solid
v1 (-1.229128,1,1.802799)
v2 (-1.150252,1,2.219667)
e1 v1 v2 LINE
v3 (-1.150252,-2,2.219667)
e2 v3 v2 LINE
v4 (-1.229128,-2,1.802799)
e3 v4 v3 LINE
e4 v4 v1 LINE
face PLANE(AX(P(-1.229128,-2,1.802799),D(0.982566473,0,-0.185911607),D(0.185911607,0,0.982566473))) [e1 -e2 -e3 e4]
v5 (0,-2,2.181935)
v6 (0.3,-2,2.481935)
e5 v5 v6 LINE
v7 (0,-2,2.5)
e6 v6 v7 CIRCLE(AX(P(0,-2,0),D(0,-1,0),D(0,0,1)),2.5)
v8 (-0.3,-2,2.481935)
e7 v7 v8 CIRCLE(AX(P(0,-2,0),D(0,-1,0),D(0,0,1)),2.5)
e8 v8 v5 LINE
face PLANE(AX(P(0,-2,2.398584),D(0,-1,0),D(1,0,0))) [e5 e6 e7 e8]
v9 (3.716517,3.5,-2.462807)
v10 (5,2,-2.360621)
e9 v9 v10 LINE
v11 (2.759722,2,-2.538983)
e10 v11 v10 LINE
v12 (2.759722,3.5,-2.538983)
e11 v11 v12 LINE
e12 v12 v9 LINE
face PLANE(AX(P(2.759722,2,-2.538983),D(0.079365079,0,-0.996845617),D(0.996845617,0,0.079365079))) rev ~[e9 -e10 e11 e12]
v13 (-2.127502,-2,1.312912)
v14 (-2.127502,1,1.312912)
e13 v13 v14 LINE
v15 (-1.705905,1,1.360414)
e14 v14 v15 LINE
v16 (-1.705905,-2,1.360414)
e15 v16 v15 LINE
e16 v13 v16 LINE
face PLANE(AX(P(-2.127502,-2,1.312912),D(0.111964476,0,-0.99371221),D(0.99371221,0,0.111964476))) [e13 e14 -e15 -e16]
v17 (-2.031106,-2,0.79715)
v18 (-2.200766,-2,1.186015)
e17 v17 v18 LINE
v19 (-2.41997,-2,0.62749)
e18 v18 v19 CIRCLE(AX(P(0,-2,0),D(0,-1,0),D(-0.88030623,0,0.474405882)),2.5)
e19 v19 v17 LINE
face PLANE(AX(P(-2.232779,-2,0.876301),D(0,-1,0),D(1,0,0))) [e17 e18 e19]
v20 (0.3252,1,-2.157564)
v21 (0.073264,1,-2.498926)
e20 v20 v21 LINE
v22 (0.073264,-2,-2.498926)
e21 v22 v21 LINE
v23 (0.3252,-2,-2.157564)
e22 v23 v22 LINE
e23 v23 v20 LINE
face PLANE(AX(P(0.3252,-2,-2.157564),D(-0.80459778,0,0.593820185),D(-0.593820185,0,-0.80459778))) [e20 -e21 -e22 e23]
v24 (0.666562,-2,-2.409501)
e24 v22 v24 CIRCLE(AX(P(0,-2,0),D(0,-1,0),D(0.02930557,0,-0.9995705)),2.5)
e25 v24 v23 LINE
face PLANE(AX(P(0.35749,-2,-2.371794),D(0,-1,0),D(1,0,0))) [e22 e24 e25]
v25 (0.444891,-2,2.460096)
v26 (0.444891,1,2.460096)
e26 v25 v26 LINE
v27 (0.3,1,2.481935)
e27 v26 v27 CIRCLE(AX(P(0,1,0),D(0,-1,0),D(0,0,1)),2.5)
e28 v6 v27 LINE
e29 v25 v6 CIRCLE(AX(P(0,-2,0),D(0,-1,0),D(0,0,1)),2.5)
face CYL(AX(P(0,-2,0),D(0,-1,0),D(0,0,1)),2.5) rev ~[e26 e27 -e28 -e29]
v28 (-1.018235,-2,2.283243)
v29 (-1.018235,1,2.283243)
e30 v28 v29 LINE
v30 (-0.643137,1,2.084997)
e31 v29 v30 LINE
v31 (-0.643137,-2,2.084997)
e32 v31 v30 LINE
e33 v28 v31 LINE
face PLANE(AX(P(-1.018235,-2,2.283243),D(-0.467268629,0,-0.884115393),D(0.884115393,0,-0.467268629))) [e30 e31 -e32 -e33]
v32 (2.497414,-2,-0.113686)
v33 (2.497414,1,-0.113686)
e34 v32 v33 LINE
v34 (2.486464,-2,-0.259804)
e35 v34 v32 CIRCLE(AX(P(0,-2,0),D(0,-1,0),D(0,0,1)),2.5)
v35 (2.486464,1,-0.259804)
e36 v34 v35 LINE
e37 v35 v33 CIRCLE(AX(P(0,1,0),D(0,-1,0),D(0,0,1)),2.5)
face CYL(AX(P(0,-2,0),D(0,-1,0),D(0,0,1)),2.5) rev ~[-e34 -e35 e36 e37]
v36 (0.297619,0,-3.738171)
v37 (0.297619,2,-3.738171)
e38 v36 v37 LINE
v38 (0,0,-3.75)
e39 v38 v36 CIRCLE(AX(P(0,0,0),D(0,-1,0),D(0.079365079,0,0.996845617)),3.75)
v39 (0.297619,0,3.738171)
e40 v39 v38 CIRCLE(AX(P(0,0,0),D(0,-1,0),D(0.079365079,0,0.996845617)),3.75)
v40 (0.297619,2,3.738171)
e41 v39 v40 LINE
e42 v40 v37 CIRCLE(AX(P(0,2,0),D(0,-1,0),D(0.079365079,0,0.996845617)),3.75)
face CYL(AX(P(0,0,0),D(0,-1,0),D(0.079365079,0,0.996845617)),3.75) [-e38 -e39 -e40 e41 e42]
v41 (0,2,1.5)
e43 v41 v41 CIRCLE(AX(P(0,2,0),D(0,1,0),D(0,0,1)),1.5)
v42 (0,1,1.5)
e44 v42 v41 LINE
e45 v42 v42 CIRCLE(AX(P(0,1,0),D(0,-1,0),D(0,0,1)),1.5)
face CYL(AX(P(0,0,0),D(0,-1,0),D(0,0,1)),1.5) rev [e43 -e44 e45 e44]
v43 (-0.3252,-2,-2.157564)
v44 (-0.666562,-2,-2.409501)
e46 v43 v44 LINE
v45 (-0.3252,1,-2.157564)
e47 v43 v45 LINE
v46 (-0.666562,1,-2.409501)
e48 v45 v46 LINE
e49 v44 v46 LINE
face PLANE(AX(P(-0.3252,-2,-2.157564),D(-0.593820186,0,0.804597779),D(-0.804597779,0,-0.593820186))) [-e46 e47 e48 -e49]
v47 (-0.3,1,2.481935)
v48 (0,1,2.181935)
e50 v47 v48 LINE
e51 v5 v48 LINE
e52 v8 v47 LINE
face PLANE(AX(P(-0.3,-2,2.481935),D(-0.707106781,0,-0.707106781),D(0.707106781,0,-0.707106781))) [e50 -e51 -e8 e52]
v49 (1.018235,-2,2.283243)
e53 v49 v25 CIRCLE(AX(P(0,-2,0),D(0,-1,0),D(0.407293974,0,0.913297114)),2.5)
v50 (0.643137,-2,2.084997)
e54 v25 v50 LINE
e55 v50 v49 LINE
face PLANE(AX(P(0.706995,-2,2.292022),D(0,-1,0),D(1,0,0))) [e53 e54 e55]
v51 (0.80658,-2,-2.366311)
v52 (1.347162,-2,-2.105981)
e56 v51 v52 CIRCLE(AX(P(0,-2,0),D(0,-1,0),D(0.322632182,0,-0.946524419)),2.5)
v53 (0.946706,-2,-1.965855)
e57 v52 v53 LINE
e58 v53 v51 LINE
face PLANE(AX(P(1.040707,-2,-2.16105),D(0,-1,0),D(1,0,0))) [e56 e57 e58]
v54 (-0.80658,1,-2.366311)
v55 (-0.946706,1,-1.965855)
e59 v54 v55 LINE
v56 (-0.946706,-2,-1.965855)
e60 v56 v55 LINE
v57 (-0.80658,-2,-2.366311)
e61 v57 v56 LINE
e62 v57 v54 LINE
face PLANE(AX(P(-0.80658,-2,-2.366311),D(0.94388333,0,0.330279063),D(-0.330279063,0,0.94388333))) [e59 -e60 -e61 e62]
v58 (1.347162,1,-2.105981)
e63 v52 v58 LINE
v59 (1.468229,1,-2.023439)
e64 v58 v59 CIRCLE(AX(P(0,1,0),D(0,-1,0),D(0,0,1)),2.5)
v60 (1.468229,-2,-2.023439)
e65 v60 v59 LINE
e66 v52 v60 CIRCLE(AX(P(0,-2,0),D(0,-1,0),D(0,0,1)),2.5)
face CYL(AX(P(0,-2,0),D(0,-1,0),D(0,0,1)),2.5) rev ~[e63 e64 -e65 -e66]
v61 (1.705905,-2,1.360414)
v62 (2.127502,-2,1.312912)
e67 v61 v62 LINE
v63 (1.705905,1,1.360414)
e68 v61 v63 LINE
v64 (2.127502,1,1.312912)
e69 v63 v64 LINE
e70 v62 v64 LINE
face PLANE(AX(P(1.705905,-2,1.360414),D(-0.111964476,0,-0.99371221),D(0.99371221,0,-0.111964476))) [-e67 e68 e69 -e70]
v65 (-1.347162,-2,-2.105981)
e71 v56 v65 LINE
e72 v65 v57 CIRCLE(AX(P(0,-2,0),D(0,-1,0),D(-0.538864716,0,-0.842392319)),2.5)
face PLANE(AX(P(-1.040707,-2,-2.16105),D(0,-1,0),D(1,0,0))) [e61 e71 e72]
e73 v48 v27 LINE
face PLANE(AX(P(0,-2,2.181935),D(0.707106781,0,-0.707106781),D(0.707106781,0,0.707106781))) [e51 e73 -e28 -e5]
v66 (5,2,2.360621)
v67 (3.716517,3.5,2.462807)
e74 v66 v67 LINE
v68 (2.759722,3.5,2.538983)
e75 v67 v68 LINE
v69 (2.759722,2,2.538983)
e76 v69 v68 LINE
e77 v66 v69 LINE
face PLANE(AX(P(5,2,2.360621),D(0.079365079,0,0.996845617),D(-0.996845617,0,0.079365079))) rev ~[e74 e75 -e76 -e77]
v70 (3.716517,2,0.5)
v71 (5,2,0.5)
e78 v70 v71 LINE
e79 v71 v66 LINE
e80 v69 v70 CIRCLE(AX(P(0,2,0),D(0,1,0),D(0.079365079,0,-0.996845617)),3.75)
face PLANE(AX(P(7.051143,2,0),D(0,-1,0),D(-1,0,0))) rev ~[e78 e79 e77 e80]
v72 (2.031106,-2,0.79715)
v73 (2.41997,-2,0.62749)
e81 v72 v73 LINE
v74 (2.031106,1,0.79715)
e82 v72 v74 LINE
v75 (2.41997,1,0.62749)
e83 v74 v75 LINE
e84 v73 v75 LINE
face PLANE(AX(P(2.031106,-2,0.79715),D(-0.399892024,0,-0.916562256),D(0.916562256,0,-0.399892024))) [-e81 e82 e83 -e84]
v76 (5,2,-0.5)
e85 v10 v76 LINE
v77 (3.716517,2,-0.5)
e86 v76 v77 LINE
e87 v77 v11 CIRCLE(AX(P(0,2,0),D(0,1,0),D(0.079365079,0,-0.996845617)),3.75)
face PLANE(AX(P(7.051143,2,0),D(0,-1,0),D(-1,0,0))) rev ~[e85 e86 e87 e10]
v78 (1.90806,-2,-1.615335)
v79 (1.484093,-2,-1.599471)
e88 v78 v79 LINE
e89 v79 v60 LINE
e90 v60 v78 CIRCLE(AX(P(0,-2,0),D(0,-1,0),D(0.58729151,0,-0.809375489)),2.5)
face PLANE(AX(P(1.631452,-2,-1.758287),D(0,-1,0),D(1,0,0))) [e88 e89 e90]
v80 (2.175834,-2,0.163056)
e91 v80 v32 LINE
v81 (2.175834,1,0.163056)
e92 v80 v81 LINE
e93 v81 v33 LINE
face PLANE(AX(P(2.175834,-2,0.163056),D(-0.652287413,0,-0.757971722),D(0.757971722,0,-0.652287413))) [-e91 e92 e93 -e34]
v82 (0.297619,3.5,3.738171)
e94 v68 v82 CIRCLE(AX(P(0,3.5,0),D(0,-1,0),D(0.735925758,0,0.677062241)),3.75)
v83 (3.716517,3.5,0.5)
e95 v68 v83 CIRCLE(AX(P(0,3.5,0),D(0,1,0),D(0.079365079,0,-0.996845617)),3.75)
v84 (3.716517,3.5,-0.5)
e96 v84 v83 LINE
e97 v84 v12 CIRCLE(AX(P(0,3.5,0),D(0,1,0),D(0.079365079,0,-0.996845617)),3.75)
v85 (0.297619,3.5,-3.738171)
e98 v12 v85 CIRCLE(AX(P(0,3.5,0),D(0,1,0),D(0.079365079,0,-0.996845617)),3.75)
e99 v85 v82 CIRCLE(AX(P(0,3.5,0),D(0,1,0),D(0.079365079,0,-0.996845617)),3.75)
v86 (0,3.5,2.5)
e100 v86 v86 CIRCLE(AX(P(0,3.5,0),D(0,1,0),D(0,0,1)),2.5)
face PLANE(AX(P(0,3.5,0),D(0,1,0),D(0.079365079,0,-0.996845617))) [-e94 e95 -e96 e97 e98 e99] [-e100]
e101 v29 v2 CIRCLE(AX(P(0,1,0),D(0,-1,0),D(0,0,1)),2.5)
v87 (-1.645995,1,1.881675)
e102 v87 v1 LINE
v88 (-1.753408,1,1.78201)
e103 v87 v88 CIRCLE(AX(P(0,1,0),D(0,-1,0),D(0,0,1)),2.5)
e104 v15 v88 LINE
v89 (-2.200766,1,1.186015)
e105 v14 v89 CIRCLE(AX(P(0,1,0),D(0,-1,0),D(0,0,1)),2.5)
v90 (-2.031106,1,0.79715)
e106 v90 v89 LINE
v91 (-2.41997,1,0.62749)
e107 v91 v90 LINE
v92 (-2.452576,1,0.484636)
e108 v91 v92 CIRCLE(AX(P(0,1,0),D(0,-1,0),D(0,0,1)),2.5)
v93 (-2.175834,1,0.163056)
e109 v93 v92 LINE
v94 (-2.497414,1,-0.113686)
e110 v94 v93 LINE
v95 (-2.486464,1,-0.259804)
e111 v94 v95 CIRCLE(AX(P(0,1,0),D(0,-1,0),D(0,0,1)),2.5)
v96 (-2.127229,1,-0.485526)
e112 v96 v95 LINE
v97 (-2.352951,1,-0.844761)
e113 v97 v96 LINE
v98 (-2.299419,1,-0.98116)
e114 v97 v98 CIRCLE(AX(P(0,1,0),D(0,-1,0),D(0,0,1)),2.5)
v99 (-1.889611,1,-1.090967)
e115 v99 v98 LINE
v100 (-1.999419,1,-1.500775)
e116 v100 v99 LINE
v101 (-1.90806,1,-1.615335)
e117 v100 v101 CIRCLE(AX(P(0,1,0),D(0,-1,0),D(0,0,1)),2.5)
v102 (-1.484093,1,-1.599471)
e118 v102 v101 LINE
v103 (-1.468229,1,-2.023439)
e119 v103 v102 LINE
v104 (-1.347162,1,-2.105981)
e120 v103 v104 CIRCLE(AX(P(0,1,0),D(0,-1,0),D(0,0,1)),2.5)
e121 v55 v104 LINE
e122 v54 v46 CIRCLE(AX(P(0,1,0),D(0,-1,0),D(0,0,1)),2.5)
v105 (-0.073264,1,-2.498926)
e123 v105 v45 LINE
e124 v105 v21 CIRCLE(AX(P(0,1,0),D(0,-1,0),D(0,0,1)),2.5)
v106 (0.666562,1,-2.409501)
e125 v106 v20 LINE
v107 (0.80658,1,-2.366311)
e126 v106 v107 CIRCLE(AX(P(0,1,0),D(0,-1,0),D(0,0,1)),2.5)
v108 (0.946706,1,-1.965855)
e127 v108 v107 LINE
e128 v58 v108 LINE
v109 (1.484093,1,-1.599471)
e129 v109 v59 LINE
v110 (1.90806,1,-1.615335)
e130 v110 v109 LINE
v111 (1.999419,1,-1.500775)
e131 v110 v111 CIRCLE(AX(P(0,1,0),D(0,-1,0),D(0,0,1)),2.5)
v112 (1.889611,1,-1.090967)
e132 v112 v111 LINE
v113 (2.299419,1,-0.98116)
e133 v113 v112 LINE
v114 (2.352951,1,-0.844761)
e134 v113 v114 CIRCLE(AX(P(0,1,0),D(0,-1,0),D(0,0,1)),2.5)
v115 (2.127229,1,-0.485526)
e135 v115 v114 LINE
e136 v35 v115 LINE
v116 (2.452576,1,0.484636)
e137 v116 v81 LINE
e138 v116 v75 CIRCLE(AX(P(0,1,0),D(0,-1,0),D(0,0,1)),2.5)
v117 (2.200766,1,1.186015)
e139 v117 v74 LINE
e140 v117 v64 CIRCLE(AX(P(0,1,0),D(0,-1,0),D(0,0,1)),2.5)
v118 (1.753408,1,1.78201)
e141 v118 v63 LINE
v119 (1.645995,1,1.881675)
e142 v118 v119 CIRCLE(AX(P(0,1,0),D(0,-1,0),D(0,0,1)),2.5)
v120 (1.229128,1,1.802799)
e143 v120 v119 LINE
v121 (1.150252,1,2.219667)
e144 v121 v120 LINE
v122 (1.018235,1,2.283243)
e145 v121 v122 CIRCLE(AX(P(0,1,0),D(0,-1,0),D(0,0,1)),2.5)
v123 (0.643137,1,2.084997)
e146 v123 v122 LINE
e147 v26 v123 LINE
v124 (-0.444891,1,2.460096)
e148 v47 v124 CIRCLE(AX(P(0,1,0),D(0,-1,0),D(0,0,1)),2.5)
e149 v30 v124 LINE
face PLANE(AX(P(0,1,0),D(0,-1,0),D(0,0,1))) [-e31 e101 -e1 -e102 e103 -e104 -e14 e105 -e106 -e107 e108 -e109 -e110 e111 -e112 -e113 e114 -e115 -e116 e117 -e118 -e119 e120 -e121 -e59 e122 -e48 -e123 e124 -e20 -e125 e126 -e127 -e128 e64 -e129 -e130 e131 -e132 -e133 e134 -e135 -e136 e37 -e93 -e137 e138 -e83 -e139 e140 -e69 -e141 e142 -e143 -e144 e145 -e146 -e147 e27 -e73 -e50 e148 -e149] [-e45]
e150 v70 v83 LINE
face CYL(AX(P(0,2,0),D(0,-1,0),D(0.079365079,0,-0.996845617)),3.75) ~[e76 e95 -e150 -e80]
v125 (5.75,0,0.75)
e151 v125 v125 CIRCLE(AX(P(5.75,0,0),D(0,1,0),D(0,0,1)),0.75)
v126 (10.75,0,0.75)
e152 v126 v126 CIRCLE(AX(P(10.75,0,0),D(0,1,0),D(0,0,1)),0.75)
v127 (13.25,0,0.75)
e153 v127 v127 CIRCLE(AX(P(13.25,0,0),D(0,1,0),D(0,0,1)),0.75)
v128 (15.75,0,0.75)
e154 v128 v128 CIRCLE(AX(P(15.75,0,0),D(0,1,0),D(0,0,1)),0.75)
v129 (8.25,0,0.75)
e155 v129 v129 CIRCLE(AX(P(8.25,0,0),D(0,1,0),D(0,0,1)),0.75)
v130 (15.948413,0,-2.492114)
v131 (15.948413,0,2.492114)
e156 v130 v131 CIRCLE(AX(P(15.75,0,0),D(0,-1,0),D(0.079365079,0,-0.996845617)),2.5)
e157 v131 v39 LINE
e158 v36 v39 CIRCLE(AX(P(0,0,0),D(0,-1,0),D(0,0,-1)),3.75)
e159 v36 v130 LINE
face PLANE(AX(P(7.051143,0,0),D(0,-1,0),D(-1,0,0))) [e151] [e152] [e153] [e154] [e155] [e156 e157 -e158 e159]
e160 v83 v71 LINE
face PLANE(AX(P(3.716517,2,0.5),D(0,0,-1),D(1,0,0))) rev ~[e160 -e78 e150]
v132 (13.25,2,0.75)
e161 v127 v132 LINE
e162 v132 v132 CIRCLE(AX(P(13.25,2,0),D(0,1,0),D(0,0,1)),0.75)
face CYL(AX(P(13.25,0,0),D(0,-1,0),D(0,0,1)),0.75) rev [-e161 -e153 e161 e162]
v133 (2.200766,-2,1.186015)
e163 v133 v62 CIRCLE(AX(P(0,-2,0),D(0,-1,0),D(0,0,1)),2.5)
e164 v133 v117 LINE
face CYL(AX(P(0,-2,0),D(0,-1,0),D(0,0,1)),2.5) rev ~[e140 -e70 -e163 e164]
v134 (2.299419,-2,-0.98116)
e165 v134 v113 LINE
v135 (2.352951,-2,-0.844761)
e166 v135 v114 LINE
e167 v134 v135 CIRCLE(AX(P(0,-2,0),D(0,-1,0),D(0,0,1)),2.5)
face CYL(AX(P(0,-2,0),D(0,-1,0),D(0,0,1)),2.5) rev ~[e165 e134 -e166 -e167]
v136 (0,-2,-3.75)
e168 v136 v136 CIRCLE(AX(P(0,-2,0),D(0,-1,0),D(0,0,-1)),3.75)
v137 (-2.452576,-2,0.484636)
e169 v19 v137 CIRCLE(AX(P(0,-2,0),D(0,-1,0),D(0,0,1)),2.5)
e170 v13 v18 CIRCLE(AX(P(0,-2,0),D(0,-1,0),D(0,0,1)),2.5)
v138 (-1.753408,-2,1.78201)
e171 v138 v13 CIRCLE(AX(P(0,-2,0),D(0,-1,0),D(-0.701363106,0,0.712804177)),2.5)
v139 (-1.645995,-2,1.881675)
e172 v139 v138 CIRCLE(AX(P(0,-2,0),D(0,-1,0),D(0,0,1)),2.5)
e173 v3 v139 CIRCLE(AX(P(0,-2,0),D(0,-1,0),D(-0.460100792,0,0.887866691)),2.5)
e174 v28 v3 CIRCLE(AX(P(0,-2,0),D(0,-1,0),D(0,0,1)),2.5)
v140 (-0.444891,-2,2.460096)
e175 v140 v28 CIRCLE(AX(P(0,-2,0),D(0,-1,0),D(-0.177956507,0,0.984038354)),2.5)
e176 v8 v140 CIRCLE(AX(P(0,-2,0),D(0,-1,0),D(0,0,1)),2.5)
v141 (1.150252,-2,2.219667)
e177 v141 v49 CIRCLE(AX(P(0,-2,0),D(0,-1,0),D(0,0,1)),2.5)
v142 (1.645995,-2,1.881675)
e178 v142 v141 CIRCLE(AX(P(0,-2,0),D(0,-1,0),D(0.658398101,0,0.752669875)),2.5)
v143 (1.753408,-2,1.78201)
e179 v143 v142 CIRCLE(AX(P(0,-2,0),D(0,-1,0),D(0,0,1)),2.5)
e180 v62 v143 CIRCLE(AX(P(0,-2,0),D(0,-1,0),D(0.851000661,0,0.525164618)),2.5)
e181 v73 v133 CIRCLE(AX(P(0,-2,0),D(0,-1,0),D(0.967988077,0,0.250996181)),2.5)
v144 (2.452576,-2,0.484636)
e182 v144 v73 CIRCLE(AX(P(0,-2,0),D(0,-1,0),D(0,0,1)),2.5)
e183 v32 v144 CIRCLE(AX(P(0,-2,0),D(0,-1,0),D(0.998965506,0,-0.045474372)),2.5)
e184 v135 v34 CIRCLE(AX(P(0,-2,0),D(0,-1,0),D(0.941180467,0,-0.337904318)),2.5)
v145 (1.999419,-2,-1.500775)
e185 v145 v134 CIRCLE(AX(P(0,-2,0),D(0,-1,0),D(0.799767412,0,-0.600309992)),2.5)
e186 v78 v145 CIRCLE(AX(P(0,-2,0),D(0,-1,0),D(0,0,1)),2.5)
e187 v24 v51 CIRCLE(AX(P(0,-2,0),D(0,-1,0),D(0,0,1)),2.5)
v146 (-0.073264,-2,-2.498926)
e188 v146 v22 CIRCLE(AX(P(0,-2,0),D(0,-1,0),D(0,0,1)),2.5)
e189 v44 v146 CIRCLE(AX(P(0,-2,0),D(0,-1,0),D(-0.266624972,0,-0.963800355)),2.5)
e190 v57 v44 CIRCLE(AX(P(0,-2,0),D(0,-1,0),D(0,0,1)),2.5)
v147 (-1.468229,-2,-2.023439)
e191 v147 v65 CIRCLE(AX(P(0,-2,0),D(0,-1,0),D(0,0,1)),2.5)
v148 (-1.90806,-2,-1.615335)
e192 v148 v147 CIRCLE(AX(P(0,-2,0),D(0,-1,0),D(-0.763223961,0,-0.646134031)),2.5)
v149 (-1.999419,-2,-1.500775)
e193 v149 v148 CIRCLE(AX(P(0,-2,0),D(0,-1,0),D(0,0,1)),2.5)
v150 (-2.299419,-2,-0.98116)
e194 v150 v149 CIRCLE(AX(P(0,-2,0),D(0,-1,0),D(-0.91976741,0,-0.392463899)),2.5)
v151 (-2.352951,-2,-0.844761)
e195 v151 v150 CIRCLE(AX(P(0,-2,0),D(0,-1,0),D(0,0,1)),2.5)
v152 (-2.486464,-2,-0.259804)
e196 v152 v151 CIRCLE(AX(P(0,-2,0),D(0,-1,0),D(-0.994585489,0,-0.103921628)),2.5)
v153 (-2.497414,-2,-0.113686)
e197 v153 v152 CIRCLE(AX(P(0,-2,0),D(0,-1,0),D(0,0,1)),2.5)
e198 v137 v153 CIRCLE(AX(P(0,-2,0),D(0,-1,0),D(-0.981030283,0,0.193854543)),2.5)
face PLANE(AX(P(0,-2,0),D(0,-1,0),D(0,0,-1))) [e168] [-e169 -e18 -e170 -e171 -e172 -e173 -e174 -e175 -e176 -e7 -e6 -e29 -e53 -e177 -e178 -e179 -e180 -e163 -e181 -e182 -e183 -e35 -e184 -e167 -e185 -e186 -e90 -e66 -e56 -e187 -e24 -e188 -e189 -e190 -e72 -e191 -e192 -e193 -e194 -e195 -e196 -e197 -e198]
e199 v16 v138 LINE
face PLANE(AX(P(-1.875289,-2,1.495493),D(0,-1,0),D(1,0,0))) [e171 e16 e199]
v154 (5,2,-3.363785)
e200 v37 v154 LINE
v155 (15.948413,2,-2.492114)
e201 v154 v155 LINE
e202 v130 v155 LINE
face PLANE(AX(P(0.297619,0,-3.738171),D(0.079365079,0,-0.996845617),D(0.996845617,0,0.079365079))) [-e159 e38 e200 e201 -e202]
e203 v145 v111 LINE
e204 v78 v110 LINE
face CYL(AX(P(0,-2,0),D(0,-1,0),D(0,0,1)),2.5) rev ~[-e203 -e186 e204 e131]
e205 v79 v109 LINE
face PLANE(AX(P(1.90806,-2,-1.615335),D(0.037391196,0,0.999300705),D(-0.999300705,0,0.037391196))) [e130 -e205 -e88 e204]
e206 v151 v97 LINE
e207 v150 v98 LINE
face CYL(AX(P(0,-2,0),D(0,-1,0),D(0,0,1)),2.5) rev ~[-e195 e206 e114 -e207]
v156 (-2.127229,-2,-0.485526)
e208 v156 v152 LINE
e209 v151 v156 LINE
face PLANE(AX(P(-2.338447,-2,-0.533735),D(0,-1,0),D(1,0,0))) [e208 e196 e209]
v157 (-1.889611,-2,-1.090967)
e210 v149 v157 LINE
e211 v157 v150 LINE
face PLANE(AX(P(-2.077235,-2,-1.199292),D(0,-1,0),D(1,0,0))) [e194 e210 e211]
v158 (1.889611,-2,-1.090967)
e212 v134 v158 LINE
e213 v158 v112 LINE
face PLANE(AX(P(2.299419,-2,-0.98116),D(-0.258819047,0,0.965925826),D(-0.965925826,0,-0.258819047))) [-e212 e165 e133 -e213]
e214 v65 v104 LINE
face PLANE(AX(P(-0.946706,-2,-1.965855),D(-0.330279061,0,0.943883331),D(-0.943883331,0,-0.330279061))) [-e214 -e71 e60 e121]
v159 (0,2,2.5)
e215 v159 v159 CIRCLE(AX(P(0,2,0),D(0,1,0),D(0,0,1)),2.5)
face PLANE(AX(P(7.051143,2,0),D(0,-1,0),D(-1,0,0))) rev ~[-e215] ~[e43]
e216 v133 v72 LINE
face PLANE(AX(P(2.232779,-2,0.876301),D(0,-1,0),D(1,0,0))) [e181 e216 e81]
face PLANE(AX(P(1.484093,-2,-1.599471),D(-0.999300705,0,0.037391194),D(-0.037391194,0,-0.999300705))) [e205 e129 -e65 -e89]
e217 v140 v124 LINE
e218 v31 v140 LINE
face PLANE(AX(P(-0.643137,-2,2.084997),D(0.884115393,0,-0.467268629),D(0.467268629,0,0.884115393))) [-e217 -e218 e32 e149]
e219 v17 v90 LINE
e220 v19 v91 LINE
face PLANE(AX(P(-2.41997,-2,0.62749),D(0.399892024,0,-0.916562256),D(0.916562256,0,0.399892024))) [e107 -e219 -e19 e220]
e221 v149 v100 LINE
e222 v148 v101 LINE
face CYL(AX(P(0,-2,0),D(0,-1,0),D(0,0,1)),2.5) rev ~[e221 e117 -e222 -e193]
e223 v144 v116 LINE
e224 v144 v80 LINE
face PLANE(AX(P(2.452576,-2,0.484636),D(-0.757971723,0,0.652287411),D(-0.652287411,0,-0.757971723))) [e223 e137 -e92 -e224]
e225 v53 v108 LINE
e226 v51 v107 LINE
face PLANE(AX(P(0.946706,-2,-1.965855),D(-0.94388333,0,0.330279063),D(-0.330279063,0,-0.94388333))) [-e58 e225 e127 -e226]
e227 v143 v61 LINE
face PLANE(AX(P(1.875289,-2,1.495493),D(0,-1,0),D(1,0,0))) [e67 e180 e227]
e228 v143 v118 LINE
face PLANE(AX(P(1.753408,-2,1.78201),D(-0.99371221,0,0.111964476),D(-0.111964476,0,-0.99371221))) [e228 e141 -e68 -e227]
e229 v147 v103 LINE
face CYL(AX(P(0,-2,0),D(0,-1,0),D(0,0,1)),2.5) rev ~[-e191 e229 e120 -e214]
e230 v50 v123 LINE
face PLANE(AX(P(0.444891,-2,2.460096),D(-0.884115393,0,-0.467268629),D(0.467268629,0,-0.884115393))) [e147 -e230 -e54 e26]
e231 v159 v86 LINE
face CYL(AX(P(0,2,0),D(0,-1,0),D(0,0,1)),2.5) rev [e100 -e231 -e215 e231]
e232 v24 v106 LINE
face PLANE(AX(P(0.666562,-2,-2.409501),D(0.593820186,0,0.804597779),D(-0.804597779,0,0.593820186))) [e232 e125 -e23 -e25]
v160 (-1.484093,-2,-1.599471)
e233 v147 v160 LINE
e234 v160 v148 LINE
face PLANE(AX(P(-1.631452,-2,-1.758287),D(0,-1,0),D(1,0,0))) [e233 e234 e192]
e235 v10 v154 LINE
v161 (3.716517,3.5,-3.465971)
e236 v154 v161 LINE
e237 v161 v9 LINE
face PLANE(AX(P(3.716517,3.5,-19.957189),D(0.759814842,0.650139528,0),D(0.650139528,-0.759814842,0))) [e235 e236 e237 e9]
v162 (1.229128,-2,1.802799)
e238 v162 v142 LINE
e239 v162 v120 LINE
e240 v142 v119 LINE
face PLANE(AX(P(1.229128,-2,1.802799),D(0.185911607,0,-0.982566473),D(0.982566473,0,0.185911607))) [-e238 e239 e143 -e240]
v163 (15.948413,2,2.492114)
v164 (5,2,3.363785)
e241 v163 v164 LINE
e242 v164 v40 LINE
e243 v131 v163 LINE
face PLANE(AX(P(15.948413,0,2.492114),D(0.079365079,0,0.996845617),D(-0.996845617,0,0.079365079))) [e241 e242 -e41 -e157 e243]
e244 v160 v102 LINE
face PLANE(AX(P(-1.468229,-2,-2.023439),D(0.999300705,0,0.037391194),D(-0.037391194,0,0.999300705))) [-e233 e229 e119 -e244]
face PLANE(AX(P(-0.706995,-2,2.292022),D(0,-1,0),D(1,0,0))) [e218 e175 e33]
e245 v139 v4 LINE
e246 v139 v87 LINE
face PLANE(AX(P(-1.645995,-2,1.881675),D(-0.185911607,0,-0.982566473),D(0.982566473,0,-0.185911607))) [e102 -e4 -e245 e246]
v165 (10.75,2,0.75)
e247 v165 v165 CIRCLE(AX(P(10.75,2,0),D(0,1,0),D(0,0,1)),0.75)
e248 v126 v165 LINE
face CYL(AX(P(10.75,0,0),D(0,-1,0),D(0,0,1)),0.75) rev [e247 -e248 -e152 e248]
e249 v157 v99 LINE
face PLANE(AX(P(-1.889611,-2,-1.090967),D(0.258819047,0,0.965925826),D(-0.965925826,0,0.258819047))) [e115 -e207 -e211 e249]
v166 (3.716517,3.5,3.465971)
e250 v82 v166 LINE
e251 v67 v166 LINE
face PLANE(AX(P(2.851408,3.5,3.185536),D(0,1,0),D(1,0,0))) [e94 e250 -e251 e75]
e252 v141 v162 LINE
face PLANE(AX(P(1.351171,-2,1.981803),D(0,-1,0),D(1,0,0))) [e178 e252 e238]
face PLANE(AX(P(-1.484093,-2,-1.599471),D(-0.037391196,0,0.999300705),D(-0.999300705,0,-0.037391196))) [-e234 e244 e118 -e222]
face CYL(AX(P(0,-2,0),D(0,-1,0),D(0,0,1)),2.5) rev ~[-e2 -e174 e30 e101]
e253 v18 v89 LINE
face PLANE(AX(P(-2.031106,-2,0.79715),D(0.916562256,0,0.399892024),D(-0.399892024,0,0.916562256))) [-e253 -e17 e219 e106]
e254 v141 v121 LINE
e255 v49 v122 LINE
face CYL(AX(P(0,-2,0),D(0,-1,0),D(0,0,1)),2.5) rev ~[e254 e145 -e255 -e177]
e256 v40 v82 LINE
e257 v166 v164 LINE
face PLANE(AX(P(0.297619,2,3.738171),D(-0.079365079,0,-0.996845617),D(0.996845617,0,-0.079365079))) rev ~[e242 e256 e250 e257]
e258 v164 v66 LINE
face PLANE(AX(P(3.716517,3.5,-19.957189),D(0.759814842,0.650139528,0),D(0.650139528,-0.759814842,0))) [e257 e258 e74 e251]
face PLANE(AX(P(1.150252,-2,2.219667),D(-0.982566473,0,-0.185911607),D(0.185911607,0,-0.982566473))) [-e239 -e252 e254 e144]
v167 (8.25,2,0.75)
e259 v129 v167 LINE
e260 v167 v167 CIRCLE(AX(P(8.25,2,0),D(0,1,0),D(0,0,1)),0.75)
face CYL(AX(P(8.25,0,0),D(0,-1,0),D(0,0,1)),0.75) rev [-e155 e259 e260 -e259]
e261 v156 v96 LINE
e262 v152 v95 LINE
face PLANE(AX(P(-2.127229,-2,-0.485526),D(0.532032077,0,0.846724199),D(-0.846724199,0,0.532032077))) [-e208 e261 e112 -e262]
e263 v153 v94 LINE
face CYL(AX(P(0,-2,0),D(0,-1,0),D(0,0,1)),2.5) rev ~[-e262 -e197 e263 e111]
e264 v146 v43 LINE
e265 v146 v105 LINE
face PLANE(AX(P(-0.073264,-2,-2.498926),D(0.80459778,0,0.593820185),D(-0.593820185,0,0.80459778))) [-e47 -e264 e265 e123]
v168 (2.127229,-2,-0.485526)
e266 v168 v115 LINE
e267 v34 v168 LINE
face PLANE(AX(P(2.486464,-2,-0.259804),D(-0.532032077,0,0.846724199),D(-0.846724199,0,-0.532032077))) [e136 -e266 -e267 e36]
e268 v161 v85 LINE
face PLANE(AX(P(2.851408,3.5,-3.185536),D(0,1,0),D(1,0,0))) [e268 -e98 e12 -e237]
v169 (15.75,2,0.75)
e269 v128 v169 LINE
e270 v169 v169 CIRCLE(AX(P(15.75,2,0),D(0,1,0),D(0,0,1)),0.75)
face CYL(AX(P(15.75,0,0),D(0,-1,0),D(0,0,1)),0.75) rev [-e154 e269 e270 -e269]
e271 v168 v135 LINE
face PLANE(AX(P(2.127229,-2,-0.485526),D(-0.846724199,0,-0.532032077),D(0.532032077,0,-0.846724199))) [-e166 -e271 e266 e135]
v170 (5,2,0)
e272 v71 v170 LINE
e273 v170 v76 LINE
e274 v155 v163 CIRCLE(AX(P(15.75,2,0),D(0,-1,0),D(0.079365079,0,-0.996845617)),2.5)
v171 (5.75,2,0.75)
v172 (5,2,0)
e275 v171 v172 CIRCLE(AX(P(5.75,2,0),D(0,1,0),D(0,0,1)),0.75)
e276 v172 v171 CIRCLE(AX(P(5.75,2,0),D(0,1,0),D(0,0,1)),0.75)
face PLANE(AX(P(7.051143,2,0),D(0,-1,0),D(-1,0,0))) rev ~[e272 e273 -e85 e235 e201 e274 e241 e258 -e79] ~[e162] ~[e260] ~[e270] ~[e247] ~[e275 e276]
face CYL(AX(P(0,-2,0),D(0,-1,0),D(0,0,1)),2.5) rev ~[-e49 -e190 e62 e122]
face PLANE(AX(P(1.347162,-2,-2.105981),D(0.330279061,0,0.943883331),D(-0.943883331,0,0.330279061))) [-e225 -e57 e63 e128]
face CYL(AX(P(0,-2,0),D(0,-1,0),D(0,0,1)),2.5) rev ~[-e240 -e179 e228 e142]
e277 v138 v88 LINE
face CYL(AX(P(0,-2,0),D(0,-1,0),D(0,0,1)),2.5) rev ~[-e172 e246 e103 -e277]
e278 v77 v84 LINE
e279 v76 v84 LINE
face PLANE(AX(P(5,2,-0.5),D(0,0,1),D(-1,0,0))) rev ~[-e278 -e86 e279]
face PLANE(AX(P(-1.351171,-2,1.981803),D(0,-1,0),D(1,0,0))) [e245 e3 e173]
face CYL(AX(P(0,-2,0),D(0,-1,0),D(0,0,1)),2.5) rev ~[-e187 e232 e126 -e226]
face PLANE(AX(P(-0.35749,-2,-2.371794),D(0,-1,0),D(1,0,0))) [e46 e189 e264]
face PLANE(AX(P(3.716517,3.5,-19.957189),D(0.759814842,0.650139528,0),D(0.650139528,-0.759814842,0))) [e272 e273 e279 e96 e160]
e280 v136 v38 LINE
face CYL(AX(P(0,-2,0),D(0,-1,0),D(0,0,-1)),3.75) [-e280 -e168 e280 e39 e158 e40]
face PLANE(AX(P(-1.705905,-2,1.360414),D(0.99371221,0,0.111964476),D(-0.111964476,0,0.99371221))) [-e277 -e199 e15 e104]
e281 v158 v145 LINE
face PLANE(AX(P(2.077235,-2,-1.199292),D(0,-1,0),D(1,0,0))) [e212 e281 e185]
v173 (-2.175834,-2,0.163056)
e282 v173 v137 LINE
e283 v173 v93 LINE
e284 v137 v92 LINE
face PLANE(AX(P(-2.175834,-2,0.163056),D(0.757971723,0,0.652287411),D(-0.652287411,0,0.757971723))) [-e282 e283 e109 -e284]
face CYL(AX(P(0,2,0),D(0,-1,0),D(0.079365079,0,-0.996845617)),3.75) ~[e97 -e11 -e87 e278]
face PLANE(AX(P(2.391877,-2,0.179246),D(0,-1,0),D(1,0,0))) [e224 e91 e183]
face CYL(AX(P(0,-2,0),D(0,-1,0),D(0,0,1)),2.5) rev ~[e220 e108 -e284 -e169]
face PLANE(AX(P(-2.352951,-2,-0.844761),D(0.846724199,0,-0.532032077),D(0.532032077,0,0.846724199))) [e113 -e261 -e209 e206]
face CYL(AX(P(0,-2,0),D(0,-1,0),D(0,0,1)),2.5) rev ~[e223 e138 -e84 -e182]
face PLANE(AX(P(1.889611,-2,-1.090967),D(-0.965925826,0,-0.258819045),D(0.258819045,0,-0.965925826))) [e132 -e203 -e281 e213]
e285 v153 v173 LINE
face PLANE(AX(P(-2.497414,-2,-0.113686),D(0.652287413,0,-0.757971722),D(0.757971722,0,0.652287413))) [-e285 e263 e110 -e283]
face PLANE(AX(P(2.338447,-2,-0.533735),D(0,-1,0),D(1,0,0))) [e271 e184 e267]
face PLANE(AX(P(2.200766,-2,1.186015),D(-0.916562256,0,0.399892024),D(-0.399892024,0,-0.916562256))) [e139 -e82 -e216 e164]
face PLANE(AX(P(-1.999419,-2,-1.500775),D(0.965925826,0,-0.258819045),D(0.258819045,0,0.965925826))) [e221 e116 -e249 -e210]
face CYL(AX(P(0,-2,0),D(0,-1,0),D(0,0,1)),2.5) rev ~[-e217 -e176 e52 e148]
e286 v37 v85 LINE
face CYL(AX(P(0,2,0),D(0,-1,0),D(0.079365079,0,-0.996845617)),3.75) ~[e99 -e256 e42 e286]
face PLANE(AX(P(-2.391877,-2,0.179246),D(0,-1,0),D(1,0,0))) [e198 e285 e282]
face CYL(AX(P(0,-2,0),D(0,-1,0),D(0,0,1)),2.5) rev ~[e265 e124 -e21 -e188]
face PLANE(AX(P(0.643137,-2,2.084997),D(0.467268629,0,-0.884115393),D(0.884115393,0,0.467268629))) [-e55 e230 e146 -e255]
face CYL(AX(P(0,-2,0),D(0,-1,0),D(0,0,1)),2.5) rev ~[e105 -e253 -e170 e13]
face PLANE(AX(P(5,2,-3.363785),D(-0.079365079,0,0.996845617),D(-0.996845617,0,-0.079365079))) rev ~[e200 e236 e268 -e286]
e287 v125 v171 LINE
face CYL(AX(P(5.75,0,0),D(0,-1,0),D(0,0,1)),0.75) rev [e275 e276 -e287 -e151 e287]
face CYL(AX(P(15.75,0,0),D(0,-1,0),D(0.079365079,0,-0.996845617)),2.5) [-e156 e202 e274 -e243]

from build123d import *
from build123d.topology import SkipClean

# Parameters (mm, degrees)
ESBO_O1_R                  = 0.75
ESBO_O1_R_2                = 1.5
RESSALTO_EXTRUS_O1_DEPTH   = 2
ESBO_O3_R                  = 3.75
ESBO_O3_R_2                = 2.5
RESSALTO_EXTRUS_O2_DEPTH   = 1.5
RESSALTO_EXTRUS_O3_DEPTH   = 1.5
CORTE_EXTRUS_O1_DEPTH      = 19.95718861
CORTE_EXTRUS_O1_DEPTH_BACK = 19.95718861
RESSALTO_EXTRUS_O4_START   = 2
ESBO_O7_R                  = 3.75
ESBO_O7_R_2                = 1.5
RESSALTO_EXTRUS_O4_DEPTH   = 2
ESBO_O8_R                  = 2.5
CORTE_EXTRUS_O2_DEPTH      = 3
RESSALTO_EXTRUS_O5_START   = 3
RESSALTO_EXTRUS_O5_DEPTH   = 3


with BuildPart() as part:
    # Esboço1 → Ressalto-extrusão1 (new body)
    with BuildSketch(Plane(origin=(0, 0, 0), x_dir=(1, 0, 0), z_dir=(0, 1, 0))):
        with BuildLine():
            Line((0.297619048, 3.738171064), (15.948412698, 2.492114043))
            ThreePointArc((15.948412698, 2.492114043), (18.25, 0), (15.948412698, -2.492114043))
            Line((15.948412698, -2.492114043), (0.297619048, -3.738171064))
            ThreePointArc((0.297619048, -3.738171064), (-3.75, 0), (0.297619048, 3.738171064))
        make_face()
        with Locations(Location((15.75, 0, 0), (0, 0, 270))):
            Circle(ESBO_O1_R, mode=Mode.SUBTRACT)
        with Locations(Location((0, 0, 0), (0, 0, 270))):
            Circle(ESBO_O1_R_2, mode=Mode.SUBTRACT)
        with Locations(Location((13.25, 0, 0), (0, 0, 270))):
            Circle(ESBO_O1_R, mode=Mode.SUBTRACT)
        with Locations(Location((10.75, 0, 0), (0, 0, 270))):
            Circle(ESBO_O1_R, mode=Mode.SUBTRACT)
        with Locations(Location((8.25, 0, 0), (0, 0, 270))):
            Circle(ESBO_O1_R, mode=Mode.SUBTRACT)
        with Locations(Location((5.75, 0, 0), (0, 0, 270))):
            Circle(ESBO_O1_R, mode=Mode.SUBTRACT)
    extrude(amount=RESSALTO_EXTRUS_O1_DEPTH)

    # Esboço3 → Ressalto-extrusão2 (add)
    with SkipClean():  # the faces are left unmerged after this step: merging them gives an invalid solid
        with BuildSketch(Plane(origin=(0, 2, 0), x_dir=(1, 0, 0), z_dir=(0, 1, 0))):
            with Locations(Location((0, 0, 0), (0, 0, 85.447928579))):
                Circle(ESBO_O3_R)
            with Locations(Location((0, 0, 0), (0, 0, 270))):
                Circle(ESBO_O3_R_2, mode=Mode.SUBTRACT)
        extrude(amount=RESSALTO_EXTRUS_O2_DEPTH)

    # Esboço5 → Ressalto-extrusão3 (add)
    with SkipClean():  # the faces are left unmerged after this step: merging them gives an invalid solid
        with BuildSketch(Plane(origin=(0, 2, 0), x_dir=(1, 0, 0), z_dir=(0, 1, 0))):
            with BuildLine():
                Line((5, 2.360620906), (5, 3.36378527))
                Line((5, 3.36378527), (0.297619048, 3.738171064))
                ThreePointArc((0.297619048, 3.738171064), (1.642055332, 3.37137276), (2.759721595, 2.538983403))
                Line((2.759721595, 2.538983403), (5, 2.360620906))
            make_face()
            with BuildLine():
                Line((5, 0.5), (3.716517187, 0.5))
                ThreePointArc((3.716517187, 0.5), (3.75, 0), (3.716517187, -0.5))
                Line((3.716517187, -0.5), (5, -0.5))
                Line((5, -0.5), (5, 0.5))
            make_face()
            with BuildLine():
                Line((5, -2.360620906), (2.759721595, -2.538983403))
                ThreePointArc((2.759721595, -2.538983403), (1.642055332, -3.37137276), (0.297619048, -3.738171064))
                Line((0.297619048, -3.738171064), (5, -3.36378527))
                Line((5, -3.36378527), (5, -2.360620906))
            make_face()
        extrude(amount=RESSALTO_EXTRUS_O3_DEPTH)

    # Esboço6 → Corte-extrusão1 (cut, two sides: drawn at the far end of the back side and taken through both)
    with SkipClean():  # the faces are left unmerged after this step: merging them gives an invalid solid
        with BuildSketch(Plane.XY.offset(-CORTE_EXTRUS_O1_DEPTH_BACK)):
            Polygon((3.716517187, 3.5), (5, 2), (5, 3.5), align=None)
        extrude(amount=CORTE_EXTRUS_O1_DEPTH + CORTE_EXTRUS_O1_DEPTH_BACK, mode=Mode.SUBTRACT)

    # Esboço7 → Ressalto-extrusão4 (add)
    with SkipClean():  # the faces are left unmerged after this step: merging them gives an invalid solid
        with BuildSketch(Plane.XZ.offset(RESSALTO_EXTRUS_O4_START)):
            with Locations(Location((0, 0, 0), (0, 0, 270))):
                Circle(ESBO_O7_R)
            with Locations(Location((0, 0, 0), (0, 0, 270))):
                Circle(ESBO_O7_R_2, mode=Mode.SUBTRACT)
        extrude(amount=-RESSALTO_EXTRUS_O4_DEPTH)

    # Esboço8 → Corte-extrusão2 (cut)
    with SkipClean():  # the faces are left unmerged after this step: merging them gives an invalid solid
        with BuildSketch(Plane.XZ.offset(2)):
            with Locations(Location((0, 0, 0), (0, 0, 90))):
                Circle(ESBO_O8_R)
        extrude(amount=-CORTE_EXTRUS_O2_DEPTH, mode=Mode.SUBTRACT)

    # Esboço9 → Ressalto-extrusão5 (add)
    with SkipClean():  # the faces are left unmerged after this step: merging them gives an invalid solid
        with BuildSketch(Plane.XZ.offset(-1).offset(RESSALTO_EXTRUS_O5_START)):
            with BuildLine():
                Line((-0.3, 2.481934729), (0, 2.181934729))
                Line((0, 2.181934729), (0.3, 2.481934729))
                ThreePointArc((0.3, 2.481934729), (0, 2.5), (-0.3, 2.481934729))
            make_face()
            with BuildLine():
                Line((0.444891262, 2.460095885), (0.643136552, 2.084997491))
                Line((0.643136552, 2.084997491), (1.018234946, 2.283242781))
                ThreePointArc((1.018234946, 2.283242781), (0.736887936, 2.388932014), (0.444891262, 2.460095885))
            make_face()
            with BuildLine():
                Line((1.150251983, 2.219666726), (1.229127598, 1.802799076))
                Line((1.229127598, 1.802799076), (1.645995248, 1.881674691))
                ThreePointArc((1.645995248, 1.881674691), (1.408300145, 2.065596936), (1.150251983, 2.219666726))
            make_face()
            with BuildLine():
                Line((1.753407768, 1.782010437), (1.705905264, 1.360414052))
                Line((1.705905264, 1.360414052), (2.127501649, 1.312911548))
                ThreePointArc((2.127501649, 1.312911548), (1.954578706, 1.558724505), (1.753407768, 1.782010437))
            make_face()
            with BuildLine():
                Line((2.200765578, 1.186014701), (2.031105761, 0.797150269))
                Line((2.031105761, 0.797150269), (2.419970193, 0.627490452))
                ThreePointArc((2.419970193, 0.627490452), (2.327184372, 0.913352561), (2.200765578, 1.186014701))
            make_face()
            with BuildLine():
                Line((2.452575708, 0.484636354), (2.175833597, 0.163056187))
                Line((2.175833597, 0.163056187), (2.497413764, -0.113685925))
                ThreePointArc((2.497413764, -0.113685925), (2.493009493, 0.186825234), (2.452575708, 0.484636354))
            make_face()
            with BuildLine():
                Line((2.486463724, -0.25980406), (2.12722907, -0.485526154))
                Line((2.12722907, -0.485526154), (2.352951164, -0.844760808))
                ThreePointArc((2.352951164, -0.844760808), (2.43731978, -0.556302335), (2.486463724, -0.25980406))
            make_face()
            with BuildLine():
                Line((2.299418526, -0.981159743), (1.889610905, -1.090967365))
                Line((1.889610905, -1.090967365), (1.999418526, -1.500774986))
                ThreePointArc((1.999418526, -1.500774986), (2.165063509, -1.25), (2.299418526, -0.981159743))
            make_face()
            with BuildLine():
                Line((1.908059901, -1.615335078), (1.484092518, -1.599471337))
                Line((1.484092518, -1.599471337), (1.468228778, -2.02343872))
                ThreePointArc((1.468228778, -2.02343872), (1.700431844, -1.83262968), (1.908059901, -1.615335078))
            make_face()
            with BuildLine():
                Line((1.347161781, -2.105980801), (0.946705999, -1.965855263))
                Line((0.946705999, -1.965855263), (0.80658046, -2.366311045))
                ThreePointArc((0.80658046, -2.366311045), (1.084709348, -2.25242217), (1.347161781, -2.105980801))
            make_face()
            with BuildLine():
                Line((0.666562424, -2.409500889), (0.325200497, -2.157564321))
                Line((0.325200497, -2.157564321), (0.073263929, -2.498926249))
                ThreePointArc((0.073263929, -2.498926249), (0.372605665, -2.472077066), (0.666562424, -2.409500889))
            make_face()
            with BuildLine():
                Line((-0.073263929, -2.498926249), (-0.325200497, -2.157564321))
                Line((-0.325200497, -2.157564321), (-0.666562424, -2.409500889))
                ThreePointArc((-0.666562424, -2.409500889), (-0.372605665, -2.472077066), (-0.073263929, -2.498926249))
            make_face()
            with BuildLine():
                Line((-0.80658046, -2.366311045), (-0.946705999, -1.965855263))
                Line((-0.946705999, -1.965855263), (-1.347161781, -2.105980801))
                ThreePointArc((-1.347161781, -2.105980801), (-1.084709348, -2.25242217), (-0.80658046, -2.366311045))
            make_face()
            with BuildLine():
                Line((-1.468228778, -2.02343872), (-1.484092518, -1.599471337))
                Line((-1.484092518, -1.599471337), (-1.908059901, -1.615335078))
                ThreePointArc((-1.908059901, -1.615335078), (-1.700431844, -1.83262968), (-1.468228778, -2.02343872))
            make_face()
            with BuildLine():
                Line((-1.999418526, -1.500774986), (-1.889610905, -1.090967365))
                Line((-1.889610905, -1.090967365), (-2.299418526, -0.981159743))
                ThreePointArc((-2.299418526, -0.981159743), (-2.165063509, -1.25), (-1.999418526, -1.500774986))
            make_face()
            with BuildLine():
                Line((-2.352951164, -0.844760808), (-2.12722907, -0.485526154))
                Line((-2.12722907, -0.485526154), (-2.486463724, -0.25980406))
                ThreePointArc((-2.486463724, -0.25980406), (-2.43731978, -0.556302335), (-2.352951164, -0.844760808))
            make_face()
            with BuildLine():
                Line((-2.497413764, -0.113685925), (-2.175833597, 0.163056187))
                Line((-2.175833597, 0.163056187), (-2.452575708, 0.484636354))
                ThreePointArc((-2.452575708, 0.484636354), (-2.493009493, 0.186825234), (-2.497413764, -0.113685925))
            make_face()
            with BuildLine():
                Line((-2.419970193, 0.627490452), (-2.031105761, 0.797150269))
                Line((-2.031105761, 0.797150269), (-2.200765578, 1.186014701))
                ThreePointArc((-2.200765578, 1.186014701), (-2.327184372, 0.913352561), (-2.419970193, 0.627490452))
            make_face()
            with BuildLine():
                Line((-2.127501649, 1.312911548), (-1.705905264, 1.360414052))
                Line((-1.705905264, 1.360414052), (-1.753407768, 1.782010437))
                ThreePointArc((-1.753407768, 1.782010437), (-1.954578706, 1.558724505), (-2.127501649, 1.312911548))
            make_face()
            with BuildLine():
                Line((-1.645995248, 1.881674691), (-1.229127598, 1.802799076))
                Line((-1.229127598, 1.802799076), (-1.150251983, 2.219666726))
                ThreePointArc((-1.150251983, 2.219666726), (-1.408300145, 2.065596936), (-1.645995248, 1.881674691))
            make_face()
            with BuildLine():
                Line((-1.018234946, 2.283242781), (-0.643136552, 2.084997491))
                Line((-0.643136552, 2.084997491), (-0.444891262, 2.460095885))
                ThreePointArc((-0.444891262, 2.460095885), (-0.736887936, 2.388932014), (-1.018234946, 2.283242781))
            make_face()
        extrude(amount=-RESSALTO_EXTRUS_O5_DEPTH)


solid = part.part
